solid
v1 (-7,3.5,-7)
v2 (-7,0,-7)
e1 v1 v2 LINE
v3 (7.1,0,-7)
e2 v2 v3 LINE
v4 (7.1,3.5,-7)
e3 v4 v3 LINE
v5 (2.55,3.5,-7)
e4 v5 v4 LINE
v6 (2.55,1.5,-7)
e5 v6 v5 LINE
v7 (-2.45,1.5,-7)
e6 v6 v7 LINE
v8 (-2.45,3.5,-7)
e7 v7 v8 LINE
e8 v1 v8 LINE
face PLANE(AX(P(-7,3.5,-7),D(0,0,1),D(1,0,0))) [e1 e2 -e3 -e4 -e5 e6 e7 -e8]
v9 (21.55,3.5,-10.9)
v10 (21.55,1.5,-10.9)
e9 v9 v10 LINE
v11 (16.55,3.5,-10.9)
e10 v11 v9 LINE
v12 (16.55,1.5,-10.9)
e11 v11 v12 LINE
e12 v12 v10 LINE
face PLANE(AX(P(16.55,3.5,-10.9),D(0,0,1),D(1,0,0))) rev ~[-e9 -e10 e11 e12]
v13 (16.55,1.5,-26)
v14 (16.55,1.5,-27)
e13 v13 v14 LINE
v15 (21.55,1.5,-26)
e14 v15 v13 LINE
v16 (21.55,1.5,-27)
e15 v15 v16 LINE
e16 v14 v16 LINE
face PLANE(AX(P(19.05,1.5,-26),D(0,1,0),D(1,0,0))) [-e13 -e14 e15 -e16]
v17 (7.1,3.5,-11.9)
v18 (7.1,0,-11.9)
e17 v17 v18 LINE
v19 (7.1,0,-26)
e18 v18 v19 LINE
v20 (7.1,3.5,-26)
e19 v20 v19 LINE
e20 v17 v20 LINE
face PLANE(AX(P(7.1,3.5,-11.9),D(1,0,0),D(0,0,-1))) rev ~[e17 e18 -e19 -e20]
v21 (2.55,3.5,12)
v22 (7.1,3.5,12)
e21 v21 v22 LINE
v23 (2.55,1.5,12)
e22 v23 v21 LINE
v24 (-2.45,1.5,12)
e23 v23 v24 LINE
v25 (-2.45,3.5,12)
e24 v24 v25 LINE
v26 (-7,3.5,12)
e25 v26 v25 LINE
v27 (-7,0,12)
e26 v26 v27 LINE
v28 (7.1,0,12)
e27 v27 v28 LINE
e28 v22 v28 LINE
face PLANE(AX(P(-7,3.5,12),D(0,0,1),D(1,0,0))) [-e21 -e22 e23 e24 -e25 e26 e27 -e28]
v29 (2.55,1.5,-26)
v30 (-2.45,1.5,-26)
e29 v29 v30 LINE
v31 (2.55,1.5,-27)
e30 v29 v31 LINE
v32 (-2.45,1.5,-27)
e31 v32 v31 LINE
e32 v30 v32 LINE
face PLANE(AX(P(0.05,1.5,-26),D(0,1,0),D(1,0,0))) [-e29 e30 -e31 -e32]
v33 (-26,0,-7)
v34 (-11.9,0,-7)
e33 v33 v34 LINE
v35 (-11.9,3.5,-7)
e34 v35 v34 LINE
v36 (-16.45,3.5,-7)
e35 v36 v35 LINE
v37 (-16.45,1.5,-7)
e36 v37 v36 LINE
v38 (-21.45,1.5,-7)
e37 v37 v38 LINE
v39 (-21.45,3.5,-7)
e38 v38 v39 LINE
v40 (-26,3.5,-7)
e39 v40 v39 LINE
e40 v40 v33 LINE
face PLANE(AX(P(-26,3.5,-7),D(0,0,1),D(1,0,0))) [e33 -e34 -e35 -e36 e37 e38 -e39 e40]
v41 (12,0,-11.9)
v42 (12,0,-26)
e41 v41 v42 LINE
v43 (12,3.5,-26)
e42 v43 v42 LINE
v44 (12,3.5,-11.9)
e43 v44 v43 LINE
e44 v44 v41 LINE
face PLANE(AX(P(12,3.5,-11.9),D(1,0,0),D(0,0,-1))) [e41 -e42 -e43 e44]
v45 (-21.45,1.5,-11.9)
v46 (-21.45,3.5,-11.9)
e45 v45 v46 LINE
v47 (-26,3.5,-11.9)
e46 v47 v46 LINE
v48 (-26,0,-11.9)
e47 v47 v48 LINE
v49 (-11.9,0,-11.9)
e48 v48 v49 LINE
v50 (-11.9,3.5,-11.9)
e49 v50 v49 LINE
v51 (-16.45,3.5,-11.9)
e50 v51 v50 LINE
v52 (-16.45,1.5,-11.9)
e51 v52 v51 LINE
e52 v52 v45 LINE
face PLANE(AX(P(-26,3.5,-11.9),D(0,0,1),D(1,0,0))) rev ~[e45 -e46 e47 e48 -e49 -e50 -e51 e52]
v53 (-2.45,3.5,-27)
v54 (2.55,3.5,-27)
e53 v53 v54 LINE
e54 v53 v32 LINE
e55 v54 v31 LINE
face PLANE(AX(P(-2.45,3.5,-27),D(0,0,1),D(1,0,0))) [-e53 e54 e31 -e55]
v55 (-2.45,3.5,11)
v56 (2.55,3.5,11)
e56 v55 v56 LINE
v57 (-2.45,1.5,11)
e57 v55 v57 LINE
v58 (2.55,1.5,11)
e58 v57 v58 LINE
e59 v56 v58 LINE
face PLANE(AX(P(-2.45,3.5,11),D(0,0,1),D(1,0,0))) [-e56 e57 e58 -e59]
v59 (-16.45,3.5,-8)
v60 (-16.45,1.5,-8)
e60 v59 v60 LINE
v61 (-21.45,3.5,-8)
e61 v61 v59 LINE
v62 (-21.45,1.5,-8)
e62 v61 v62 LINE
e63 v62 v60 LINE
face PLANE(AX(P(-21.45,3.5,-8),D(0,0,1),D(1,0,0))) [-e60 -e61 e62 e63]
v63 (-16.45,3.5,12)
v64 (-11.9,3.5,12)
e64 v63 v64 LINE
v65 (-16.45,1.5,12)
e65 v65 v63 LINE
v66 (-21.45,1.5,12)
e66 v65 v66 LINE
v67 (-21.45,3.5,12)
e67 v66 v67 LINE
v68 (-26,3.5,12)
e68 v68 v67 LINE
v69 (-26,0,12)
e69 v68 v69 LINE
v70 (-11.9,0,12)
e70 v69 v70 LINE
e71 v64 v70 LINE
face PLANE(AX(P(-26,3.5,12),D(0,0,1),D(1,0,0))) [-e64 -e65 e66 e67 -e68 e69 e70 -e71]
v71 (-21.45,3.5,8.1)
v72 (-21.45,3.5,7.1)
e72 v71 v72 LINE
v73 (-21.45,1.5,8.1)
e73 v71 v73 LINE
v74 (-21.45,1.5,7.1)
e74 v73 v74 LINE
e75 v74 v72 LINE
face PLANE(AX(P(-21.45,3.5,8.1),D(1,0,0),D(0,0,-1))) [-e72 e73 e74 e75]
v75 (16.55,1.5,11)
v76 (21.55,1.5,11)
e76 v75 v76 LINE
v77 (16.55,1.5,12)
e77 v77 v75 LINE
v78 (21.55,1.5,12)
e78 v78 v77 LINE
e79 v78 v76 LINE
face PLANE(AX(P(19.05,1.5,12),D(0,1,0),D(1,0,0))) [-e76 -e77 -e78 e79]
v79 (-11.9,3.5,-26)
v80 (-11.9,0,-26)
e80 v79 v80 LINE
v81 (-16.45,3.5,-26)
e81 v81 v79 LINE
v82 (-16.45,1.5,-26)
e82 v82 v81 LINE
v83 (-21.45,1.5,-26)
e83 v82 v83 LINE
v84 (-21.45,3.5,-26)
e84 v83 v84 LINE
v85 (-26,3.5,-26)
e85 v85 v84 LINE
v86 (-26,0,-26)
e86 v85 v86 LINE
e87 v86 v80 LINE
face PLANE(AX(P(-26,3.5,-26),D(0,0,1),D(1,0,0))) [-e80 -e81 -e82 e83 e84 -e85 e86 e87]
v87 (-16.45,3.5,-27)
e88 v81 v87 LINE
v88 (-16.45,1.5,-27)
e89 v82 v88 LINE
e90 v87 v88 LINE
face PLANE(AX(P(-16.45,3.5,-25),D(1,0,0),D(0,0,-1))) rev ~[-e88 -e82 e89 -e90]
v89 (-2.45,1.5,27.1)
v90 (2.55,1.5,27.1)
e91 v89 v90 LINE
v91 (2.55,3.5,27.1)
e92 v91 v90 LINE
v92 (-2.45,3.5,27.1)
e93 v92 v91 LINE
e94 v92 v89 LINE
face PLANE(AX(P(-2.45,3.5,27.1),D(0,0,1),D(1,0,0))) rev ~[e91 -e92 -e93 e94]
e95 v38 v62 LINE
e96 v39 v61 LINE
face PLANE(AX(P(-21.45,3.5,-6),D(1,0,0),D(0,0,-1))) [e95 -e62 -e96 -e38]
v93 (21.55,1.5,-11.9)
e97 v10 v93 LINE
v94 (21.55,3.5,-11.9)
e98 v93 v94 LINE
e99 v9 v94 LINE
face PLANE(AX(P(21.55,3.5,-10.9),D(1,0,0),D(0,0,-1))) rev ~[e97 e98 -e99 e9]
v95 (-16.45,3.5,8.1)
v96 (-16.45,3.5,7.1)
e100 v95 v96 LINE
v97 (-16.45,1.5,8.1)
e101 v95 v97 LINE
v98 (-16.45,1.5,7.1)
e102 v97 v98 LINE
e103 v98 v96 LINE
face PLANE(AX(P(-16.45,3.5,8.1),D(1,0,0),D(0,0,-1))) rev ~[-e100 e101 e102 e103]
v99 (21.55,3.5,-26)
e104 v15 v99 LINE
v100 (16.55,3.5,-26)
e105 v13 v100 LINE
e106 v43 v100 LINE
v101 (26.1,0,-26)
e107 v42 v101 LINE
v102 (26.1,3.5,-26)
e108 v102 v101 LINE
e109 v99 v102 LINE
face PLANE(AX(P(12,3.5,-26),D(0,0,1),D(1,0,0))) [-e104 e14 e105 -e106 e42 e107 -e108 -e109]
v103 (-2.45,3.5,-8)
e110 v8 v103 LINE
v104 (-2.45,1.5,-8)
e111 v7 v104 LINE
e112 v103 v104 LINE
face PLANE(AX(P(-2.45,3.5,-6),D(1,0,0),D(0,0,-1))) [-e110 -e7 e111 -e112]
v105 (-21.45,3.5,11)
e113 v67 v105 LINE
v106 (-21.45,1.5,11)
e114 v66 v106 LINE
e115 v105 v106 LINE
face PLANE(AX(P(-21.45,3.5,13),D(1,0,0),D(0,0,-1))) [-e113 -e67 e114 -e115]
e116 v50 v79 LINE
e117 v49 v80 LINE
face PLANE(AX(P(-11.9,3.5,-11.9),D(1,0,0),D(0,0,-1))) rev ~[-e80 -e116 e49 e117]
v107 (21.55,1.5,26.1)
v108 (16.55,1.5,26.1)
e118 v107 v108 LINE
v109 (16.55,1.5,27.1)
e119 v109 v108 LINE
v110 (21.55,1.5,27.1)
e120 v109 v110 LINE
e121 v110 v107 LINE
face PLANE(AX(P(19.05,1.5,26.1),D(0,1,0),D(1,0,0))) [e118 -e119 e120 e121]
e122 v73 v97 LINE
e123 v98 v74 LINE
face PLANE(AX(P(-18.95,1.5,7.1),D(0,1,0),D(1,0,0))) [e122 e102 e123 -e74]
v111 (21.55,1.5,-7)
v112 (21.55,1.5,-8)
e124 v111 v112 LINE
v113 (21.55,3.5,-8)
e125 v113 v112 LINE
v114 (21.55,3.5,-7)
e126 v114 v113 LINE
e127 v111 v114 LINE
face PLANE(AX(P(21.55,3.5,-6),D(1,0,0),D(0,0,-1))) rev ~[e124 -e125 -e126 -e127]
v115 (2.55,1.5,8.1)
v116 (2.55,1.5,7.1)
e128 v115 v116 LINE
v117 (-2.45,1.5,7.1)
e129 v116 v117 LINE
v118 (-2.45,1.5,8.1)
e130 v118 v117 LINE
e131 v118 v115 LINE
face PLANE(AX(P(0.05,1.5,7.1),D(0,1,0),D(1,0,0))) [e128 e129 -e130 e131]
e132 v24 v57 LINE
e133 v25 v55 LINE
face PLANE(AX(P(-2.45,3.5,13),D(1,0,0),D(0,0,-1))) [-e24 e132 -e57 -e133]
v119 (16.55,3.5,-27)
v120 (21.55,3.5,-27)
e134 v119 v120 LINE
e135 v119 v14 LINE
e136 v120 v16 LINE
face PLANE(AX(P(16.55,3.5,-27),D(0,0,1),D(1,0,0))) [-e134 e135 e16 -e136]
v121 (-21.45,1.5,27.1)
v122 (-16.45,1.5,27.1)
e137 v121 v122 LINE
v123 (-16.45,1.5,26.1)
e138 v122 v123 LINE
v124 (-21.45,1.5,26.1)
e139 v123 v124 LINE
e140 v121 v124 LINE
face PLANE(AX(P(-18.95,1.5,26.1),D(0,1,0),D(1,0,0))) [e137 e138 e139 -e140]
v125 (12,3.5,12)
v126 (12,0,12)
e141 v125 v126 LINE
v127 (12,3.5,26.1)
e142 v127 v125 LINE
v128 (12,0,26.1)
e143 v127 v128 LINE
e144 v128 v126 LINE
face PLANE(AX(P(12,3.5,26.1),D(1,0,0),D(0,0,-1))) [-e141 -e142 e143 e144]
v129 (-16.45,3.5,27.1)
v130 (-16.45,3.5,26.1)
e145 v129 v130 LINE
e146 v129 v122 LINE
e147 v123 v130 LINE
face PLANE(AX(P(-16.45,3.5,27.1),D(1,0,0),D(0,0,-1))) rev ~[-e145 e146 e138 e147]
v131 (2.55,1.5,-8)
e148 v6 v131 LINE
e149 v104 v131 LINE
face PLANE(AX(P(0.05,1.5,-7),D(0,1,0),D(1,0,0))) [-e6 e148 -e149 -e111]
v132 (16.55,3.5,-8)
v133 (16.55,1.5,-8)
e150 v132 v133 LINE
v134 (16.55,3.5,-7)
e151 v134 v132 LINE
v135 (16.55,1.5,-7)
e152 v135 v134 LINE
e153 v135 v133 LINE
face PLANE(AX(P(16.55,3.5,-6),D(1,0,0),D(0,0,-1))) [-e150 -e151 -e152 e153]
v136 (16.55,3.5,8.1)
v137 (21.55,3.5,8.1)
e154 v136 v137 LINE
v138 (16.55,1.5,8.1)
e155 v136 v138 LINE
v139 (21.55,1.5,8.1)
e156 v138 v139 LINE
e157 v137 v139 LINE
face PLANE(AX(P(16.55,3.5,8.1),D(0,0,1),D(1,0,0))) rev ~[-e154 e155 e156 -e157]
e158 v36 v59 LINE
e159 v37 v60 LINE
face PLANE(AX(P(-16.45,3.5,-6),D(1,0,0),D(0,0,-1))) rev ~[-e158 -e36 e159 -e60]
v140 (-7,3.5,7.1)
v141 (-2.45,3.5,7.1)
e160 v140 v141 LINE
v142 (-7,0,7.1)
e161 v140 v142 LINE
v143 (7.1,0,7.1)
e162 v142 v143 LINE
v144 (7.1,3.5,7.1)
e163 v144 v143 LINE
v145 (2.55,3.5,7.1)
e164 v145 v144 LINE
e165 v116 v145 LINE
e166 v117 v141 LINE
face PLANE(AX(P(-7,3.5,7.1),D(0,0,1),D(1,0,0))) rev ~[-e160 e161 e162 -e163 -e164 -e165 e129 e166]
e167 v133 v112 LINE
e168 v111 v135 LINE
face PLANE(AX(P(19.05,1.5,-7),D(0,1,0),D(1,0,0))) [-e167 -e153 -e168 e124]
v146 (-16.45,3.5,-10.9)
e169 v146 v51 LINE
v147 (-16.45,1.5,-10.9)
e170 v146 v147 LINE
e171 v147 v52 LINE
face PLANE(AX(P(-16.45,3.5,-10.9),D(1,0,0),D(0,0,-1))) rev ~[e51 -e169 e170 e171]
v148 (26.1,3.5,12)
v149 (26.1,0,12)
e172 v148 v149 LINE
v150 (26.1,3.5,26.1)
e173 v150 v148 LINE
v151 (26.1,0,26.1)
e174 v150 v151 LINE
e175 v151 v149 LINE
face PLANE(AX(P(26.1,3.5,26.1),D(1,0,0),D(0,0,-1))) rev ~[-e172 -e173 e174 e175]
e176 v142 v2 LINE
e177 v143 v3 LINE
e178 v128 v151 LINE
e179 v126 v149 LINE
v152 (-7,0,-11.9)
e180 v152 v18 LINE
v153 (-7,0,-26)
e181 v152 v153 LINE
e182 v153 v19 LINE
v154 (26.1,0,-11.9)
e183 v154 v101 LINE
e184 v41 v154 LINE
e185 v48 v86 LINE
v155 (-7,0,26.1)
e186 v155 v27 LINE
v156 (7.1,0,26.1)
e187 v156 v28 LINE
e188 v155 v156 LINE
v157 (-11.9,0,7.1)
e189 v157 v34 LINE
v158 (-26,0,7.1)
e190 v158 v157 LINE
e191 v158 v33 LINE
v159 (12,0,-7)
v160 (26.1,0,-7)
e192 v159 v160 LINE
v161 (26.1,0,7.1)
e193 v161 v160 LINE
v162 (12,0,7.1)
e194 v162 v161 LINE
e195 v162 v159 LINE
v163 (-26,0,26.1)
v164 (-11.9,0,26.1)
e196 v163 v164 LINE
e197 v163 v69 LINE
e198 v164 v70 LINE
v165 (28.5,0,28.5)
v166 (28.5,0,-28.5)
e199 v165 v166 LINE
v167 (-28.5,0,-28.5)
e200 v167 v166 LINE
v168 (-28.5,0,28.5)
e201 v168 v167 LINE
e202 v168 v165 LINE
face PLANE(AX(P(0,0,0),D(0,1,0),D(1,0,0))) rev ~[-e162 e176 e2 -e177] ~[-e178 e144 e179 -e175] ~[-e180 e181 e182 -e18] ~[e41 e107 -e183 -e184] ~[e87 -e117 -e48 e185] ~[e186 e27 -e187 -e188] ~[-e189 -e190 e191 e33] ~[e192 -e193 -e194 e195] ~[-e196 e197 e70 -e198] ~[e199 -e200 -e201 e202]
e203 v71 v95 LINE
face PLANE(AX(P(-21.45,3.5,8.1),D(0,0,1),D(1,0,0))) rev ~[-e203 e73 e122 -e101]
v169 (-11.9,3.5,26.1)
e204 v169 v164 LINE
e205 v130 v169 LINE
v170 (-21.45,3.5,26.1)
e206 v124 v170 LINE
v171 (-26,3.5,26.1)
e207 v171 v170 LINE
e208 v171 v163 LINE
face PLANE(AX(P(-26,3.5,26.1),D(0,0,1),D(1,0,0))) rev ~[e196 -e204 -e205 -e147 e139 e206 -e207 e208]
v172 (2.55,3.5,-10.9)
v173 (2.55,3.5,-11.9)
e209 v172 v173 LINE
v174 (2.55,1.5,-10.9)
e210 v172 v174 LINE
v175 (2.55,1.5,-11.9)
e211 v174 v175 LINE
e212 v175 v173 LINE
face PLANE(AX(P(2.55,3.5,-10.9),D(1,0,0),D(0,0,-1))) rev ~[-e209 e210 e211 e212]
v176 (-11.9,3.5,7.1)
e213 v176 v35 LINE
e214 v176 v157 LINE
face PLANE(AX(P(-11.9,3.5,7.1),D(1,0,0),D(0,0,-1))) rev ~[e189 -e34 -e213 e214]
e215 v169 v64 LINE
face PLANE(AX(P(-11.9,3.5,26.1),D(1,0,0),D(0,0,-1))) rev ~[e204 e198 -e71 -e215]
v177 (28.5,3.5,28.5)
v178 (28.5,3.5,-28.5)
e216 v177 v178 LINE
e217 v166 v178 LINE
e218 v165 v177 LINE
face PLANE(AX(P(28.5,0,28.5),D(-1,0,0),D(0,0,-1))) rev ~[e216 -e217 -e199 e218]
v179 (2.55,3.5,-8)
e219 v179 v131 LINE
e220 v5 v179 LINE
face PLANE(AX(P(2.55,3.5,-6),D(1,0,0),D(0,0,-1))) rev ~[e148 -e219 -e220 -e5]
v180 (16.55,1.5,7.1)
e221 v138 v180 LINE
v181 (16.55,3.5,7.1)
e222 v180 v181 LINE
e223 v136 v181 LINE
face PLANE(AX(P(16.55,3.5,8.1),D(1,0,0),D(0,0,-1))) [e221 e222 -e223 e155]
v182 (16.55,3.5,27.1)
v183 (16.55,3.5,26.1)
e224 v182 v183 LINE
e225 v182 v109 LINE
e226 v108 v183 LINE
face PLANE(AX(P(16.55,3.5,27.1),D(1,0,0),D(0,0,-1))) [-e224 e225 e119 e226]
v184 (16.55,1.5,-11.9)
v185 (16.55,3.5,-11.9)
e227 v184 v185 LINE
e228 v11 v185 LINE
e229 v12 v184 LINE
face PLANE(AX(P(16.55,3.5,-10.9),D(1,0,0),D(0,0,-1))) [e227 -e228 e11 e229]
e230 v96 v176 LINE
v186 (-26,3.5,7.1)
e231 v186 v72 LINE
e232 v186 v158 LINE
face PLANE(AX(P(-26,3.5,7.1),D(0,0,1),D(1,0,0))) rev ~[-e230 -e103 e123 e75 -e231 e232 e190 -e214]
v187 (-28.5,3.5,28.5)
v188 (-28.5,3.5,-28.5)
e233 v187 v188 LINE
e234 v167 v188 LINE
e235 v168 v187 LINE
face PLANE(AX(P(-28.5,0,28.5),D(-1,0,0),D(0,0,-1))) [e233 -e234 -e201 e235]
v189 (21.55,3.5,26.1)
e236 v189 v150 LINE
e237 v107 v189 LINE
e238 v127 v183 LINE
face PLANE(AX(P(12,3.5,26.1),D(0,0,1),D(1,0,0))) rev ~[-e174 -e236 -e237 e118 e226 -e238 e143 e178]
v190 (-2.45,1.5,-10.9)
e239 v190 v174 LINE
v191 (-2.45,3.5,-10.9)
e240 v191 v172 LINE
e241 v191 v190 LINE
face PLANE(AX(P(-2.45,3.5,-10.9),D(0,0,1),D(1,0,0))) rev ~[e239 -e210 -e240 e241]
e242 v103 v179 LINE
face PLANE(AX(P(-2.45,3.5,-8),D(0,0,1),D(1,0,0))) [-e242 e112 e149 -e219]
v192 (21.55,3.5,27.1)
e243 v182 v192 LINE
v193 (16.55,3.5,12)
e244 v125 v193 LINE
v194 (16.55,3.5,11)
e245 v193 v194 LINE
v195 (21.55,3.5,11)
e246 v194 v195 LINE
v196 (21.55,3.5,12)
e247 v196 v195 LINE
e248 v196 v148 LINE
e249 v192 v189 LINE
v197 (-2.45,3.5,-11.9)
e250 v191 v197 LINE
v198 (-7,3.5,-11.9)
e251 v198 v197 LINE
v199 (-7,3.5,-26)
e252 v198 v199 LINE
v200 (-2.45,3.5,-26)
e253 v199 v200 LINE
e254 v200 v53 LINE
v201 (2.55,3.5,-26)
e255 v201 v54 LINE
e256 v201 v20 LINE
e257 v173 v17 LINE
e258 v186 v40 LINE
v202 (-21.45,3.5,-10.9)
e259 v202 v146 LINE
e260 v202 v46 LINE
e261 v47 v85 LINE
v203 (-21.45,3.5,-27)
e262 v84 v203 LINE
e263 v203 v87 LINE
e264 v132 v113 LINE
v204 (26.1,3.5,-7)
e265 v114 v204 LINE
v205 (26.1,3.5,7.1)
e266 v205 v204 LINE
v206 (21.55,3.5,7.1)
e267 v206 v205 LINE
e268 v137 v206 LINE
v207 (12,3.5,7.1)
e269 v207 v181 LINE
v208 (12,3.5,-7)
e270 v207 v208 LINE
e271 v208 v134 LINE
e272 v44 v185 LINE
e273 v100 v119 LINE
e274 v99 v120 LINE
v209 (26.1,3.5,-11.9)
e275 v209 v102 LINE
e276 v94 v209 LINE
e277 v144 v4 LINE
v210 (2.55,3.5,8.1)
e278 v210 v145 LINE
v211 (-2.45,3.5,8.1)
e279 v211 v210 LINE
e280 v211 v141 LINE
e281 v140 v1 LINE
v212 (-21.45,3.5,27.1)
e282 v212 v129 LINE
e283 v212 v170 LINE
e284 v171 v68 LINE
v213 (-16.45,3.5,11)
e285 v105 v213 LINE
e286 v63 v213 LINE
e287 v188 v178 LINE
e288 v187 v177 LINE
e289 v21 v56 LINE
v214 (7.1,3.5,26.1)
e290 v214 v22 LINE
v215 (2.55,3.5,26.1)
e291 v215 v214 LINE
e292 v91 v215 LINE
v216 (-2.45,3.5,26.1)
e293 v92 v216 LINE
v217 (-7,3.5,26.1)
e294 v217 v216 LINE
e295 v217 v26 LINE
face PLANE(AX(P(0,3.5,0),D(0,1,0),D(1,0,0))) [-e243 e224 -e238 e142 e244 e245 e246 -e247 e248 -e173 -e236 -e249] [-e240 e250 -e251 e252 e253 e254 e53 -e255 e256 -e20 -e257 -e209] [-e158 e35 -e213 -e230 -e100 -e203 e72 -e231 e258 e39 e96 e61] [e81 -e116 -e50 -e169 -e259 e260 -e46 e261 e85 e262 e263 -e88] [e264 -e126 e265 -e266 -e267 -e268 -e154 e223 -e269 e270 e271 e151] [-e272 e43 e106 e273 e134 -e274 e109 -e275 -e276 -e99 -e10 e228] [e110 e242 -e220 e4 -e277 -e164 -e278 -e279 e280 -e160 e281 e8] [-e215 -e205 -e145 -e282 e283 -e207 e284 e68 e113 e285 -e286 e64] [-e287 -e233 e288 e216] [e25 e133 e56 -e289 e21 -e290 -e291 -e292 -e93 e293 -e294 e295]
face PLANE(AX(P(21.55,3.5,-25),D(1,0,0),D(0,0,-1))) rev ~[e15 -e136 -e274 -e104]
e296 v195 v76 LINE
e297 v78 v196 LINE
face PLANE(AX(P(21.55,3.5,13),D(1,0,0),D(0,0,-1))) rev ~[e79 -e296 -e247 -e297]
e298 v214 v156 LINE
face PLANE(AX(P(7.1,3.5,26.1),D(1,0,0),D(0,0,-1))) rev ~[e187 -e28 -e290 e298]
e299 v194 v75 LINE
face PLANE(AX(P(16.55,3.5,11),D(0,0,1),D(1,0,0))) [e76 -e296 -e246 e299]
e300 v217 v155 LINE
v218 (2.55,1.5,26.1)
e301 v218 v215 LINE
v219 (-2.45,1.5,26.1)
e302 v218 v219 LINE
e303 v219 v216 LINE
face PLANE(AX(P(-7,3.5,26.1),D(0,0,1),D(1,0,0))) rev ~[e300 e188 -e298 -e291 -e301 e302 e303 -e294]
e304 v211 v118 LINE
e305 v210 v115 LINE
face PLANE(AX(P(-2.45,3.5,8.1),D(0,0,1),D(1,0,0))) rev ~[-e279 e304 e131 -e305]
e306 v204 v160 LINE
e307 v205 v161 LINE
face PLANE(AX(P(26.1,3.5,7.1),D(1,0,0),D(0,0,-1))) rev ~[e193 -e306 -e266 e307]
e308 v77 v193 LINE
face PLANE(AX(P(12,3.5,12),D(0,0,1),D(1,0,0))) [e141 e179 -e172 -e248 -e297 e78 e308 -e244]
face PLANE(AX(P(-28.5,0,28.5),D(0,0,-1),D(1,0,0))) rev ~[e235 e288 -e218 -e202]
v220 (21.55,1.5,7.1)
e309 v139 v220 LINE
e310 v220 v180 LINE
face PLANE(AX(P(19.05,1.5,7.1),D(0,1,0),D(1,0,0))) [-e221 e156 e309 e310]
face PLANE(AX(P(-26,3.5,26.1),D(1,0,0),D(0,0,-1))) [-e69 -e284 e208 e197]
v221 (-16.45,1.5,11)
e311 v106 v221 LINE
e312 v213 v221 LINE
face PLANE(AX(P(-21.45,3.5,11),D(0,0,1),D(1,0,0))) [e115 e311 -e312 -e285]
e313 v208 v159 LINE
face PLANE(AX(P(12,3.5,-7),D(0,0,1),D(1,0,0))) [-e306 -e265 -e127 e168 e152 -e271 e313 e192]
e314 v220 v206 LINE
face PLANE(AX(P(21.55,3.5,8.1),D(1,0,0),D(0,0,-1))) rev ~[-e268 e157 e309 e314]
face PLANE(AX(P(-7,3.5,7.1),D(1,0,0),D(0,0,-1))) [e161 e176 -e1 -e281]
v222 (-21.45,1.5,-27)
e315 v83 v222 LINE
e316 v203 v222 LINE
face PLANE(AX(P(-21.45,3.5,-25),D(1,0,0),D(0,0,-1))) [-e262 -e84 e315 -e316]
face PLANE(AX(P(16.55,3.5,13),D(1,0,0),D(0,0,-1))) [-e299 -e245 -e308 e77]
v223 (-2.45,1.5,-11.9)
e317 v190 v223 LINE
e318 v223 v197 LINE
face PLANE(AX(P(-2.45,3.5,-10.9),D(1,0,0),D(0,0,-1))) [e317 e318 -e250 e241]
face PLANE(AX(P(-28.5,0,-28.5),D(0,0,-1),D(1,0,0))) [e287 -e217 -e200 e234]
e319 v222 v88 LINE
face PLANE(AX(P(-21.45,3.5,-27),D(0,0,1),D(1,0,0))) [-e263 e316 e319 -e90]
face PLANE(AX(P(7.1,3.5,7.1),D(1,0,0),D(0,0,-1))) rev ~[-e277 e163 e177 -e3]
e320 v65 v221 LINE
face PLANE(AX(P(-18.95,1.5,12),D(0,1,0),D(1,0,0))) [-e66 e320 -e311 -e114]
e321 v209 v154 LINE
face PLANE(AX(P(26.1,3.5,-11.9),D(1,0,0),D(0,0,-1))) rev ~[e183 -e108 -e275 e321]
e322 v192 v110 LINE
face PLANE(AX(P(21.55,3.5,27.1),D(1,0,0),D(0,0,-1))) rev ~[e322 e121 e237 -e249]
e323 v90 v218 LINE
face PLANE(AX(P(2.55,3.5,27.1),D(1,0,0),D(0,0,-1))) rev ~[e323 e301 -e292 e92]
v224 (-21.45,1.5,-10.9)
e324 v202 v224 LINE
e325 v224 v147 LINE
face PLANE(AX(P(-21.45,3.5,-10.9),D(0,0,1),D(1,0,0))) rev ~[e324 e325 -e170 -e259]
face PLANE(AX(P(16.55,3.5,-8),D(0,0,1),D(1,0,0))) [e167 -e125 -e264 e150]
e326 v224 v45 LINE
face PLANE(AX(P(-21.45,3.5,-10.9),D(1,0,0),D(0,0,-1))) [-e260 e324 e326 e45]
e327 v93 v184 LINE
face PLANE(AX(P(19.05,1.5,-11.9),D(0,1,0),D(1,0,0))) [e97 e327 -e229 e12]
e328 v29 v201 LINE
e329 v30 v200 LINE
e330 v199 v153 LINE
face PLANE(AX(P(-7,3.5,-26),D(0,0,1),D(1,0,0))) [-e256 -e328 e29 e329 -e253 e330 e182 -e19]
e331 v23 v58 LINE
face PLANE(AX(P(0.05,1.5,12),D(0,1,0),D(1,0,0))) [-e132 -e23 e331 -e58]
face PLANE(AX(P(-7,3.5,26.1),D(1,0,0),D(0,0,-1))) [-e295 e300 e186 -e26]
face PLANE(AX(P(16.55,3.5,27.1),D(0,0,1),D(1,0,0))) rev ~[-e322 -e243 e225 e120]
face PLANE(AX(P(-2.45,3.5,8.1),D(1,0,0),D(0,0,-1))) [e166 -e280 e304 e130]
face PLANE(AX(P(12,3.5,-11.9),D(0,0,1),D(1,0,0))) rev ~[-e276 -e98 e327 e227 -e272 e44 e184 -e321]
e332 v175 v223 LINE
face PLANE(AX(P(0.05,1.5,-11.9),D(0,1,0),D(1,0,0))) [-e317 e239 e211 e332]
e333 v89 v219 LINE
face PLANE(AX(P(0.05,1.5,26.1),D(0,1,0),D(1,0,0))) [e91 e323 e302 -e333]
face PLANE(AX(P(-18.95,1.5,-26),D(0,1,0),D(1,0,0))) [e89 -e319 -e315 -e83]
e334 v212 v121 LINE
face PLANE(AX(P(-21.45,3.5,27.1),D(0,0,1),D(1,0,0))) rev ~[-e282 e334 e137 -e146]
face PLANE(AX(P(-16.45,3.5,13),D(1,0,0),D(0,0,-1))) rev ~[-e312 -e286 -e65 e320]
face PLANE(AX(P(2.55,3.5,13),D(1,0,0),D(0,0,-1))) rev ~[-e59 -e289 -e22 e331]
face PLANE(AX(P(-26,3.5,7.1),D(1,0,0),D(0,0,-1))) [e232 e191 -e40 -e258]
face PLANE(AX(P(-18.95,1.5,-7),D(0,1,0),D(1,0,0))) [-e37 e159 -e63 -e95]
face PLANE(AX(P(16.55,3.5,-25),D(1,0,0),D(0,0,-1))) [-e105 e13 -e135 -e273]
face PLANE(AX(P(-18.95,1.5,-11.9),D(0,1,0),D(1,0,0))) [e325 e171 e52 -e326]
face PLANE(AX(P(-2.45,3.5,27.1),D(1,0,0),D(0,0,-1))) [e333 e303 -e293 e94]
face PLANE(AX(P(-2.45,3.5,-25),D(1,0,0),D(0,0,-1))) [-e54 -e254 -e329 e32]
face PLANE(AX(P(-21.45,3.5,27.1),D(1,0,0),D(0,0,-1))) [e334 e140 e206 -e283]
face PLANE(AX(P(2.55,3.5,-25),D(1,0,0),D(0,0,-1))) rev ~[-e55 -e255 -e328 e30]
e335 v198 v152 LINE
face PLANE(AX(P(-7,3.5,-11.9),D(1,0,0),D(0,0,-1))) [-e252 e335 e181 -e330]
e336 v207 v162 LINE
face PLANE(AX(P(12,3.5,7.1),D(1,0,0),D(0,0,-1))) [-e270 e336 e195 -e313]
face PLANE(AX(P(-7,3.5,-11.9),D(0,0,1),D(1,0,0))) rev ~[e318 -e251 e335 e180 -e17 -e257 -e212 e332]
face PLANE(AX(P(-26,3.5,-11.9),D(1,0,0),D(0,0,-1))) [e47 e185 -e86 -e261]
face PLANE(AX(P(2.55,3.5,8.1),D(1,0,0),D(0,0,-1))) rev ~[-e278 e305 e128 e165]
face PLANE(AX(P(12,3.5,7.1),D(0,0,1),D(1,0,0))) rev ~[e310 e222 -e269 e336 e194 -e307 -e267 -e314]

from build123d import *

# Parameters (mm, degrees)
ESQUISSE2_W                     = 57
ESQUISSE2_H                     = 57
BOSS_EXTRU_1_DEPTH              = 3.5
ESQUISSE3_W                     = 14.1
ESQUISSE3_H                     = 14.1
ENL_V_MAT_EXTRU_1_DEPTH         = 3.5
ESQUISSE4_W                     = 5
ESQUISSE4_H                     = 2
ENL_V_MAT_EXTRU_2_DEPTH         = 2
R_P_TITION_LIN_AIRE1_COUNT      = 3
R_P_TITION_LIN_AIRE1_PITCH      = 19
R_P_TITION_LIN_AIRE1_COUNT_DIR2 = 3
R_P_TITION_LIN_AIRE1_PITCH_DIR2 = 19


with BuildPart() as part:
    # Esquisse2 → Boss.-Extru.1 (new body)
    with BuildSketch(Plane(origin=(0, 0, 0), x_dir=(1, 0, 0), z_dir=(0, 1, 0))):
        Rectangle(ESQUISSE2_W, ESQUISSE2_H)
    extrude(amount=BOSS_EXTRU_1_DEPTH)

    # Esquisse3 → Enlèv. mat.-Extru.1 (cut)
    with BuildSketch(Plane(origin=(0, 3.5, 0), x_dir=(1, 0, 0), z_dir=(0, 1, 0))):
        with Locations((-18.95, 18.95)):
            Rectangle(ESQUISSE3_W, ESQUISSE3_H)
    enl_v_mat_extru_1 = extrude(amount=-ENL_V_MAT_EXTRU_1_DEPTH, mode=Mode.SUBTRACT)

    # Esquisse4 → Enlèv. mat.-Extru.2 (cut)
    with BuildSketch(Plane(origin=(0, 3.5, 0), x_dir=(1, 0, 0), z_dir=(0, 1, 0))):
        with Locations((-18.95, 26)):
            Rectangle(ESQUISSE4_W, ESQUISSE4_H)
        with Locations((-18.95, 11.9)):
            Rectangle(ESQUISSE4_W, ESQUISSE4_H)
    enl_v_mat_extru_2 = extrude(amount=-ENL_V_MAT_EXTRU_2_DEPTH, mode=Mode.SUBTRACT)

    # Répétition linéaire1: Enlèv. mat.-Extru.1, Enl_v. mat.-Extru.2 3 × 3
    with Locations(*[(i * R_P_TITION_LIN_AIRE1_PITCH, 0, j * R_P_TITION_LIN_AIRE1_PITCH_DIR2) for i in range(R_P_TITION_LIN_AIRE1_COUNT) for j in range(R_P_TITION_LIN_AIRE1_COUNT_DIR2) if (i, j) != (0, 0)]):
        add(enl_v_mat_extru_1, mode=Mode.SUBTRACT)
        add(enl_v_mat_extru_2, mode=Mode.SUBTRACT)


solid = part.part
